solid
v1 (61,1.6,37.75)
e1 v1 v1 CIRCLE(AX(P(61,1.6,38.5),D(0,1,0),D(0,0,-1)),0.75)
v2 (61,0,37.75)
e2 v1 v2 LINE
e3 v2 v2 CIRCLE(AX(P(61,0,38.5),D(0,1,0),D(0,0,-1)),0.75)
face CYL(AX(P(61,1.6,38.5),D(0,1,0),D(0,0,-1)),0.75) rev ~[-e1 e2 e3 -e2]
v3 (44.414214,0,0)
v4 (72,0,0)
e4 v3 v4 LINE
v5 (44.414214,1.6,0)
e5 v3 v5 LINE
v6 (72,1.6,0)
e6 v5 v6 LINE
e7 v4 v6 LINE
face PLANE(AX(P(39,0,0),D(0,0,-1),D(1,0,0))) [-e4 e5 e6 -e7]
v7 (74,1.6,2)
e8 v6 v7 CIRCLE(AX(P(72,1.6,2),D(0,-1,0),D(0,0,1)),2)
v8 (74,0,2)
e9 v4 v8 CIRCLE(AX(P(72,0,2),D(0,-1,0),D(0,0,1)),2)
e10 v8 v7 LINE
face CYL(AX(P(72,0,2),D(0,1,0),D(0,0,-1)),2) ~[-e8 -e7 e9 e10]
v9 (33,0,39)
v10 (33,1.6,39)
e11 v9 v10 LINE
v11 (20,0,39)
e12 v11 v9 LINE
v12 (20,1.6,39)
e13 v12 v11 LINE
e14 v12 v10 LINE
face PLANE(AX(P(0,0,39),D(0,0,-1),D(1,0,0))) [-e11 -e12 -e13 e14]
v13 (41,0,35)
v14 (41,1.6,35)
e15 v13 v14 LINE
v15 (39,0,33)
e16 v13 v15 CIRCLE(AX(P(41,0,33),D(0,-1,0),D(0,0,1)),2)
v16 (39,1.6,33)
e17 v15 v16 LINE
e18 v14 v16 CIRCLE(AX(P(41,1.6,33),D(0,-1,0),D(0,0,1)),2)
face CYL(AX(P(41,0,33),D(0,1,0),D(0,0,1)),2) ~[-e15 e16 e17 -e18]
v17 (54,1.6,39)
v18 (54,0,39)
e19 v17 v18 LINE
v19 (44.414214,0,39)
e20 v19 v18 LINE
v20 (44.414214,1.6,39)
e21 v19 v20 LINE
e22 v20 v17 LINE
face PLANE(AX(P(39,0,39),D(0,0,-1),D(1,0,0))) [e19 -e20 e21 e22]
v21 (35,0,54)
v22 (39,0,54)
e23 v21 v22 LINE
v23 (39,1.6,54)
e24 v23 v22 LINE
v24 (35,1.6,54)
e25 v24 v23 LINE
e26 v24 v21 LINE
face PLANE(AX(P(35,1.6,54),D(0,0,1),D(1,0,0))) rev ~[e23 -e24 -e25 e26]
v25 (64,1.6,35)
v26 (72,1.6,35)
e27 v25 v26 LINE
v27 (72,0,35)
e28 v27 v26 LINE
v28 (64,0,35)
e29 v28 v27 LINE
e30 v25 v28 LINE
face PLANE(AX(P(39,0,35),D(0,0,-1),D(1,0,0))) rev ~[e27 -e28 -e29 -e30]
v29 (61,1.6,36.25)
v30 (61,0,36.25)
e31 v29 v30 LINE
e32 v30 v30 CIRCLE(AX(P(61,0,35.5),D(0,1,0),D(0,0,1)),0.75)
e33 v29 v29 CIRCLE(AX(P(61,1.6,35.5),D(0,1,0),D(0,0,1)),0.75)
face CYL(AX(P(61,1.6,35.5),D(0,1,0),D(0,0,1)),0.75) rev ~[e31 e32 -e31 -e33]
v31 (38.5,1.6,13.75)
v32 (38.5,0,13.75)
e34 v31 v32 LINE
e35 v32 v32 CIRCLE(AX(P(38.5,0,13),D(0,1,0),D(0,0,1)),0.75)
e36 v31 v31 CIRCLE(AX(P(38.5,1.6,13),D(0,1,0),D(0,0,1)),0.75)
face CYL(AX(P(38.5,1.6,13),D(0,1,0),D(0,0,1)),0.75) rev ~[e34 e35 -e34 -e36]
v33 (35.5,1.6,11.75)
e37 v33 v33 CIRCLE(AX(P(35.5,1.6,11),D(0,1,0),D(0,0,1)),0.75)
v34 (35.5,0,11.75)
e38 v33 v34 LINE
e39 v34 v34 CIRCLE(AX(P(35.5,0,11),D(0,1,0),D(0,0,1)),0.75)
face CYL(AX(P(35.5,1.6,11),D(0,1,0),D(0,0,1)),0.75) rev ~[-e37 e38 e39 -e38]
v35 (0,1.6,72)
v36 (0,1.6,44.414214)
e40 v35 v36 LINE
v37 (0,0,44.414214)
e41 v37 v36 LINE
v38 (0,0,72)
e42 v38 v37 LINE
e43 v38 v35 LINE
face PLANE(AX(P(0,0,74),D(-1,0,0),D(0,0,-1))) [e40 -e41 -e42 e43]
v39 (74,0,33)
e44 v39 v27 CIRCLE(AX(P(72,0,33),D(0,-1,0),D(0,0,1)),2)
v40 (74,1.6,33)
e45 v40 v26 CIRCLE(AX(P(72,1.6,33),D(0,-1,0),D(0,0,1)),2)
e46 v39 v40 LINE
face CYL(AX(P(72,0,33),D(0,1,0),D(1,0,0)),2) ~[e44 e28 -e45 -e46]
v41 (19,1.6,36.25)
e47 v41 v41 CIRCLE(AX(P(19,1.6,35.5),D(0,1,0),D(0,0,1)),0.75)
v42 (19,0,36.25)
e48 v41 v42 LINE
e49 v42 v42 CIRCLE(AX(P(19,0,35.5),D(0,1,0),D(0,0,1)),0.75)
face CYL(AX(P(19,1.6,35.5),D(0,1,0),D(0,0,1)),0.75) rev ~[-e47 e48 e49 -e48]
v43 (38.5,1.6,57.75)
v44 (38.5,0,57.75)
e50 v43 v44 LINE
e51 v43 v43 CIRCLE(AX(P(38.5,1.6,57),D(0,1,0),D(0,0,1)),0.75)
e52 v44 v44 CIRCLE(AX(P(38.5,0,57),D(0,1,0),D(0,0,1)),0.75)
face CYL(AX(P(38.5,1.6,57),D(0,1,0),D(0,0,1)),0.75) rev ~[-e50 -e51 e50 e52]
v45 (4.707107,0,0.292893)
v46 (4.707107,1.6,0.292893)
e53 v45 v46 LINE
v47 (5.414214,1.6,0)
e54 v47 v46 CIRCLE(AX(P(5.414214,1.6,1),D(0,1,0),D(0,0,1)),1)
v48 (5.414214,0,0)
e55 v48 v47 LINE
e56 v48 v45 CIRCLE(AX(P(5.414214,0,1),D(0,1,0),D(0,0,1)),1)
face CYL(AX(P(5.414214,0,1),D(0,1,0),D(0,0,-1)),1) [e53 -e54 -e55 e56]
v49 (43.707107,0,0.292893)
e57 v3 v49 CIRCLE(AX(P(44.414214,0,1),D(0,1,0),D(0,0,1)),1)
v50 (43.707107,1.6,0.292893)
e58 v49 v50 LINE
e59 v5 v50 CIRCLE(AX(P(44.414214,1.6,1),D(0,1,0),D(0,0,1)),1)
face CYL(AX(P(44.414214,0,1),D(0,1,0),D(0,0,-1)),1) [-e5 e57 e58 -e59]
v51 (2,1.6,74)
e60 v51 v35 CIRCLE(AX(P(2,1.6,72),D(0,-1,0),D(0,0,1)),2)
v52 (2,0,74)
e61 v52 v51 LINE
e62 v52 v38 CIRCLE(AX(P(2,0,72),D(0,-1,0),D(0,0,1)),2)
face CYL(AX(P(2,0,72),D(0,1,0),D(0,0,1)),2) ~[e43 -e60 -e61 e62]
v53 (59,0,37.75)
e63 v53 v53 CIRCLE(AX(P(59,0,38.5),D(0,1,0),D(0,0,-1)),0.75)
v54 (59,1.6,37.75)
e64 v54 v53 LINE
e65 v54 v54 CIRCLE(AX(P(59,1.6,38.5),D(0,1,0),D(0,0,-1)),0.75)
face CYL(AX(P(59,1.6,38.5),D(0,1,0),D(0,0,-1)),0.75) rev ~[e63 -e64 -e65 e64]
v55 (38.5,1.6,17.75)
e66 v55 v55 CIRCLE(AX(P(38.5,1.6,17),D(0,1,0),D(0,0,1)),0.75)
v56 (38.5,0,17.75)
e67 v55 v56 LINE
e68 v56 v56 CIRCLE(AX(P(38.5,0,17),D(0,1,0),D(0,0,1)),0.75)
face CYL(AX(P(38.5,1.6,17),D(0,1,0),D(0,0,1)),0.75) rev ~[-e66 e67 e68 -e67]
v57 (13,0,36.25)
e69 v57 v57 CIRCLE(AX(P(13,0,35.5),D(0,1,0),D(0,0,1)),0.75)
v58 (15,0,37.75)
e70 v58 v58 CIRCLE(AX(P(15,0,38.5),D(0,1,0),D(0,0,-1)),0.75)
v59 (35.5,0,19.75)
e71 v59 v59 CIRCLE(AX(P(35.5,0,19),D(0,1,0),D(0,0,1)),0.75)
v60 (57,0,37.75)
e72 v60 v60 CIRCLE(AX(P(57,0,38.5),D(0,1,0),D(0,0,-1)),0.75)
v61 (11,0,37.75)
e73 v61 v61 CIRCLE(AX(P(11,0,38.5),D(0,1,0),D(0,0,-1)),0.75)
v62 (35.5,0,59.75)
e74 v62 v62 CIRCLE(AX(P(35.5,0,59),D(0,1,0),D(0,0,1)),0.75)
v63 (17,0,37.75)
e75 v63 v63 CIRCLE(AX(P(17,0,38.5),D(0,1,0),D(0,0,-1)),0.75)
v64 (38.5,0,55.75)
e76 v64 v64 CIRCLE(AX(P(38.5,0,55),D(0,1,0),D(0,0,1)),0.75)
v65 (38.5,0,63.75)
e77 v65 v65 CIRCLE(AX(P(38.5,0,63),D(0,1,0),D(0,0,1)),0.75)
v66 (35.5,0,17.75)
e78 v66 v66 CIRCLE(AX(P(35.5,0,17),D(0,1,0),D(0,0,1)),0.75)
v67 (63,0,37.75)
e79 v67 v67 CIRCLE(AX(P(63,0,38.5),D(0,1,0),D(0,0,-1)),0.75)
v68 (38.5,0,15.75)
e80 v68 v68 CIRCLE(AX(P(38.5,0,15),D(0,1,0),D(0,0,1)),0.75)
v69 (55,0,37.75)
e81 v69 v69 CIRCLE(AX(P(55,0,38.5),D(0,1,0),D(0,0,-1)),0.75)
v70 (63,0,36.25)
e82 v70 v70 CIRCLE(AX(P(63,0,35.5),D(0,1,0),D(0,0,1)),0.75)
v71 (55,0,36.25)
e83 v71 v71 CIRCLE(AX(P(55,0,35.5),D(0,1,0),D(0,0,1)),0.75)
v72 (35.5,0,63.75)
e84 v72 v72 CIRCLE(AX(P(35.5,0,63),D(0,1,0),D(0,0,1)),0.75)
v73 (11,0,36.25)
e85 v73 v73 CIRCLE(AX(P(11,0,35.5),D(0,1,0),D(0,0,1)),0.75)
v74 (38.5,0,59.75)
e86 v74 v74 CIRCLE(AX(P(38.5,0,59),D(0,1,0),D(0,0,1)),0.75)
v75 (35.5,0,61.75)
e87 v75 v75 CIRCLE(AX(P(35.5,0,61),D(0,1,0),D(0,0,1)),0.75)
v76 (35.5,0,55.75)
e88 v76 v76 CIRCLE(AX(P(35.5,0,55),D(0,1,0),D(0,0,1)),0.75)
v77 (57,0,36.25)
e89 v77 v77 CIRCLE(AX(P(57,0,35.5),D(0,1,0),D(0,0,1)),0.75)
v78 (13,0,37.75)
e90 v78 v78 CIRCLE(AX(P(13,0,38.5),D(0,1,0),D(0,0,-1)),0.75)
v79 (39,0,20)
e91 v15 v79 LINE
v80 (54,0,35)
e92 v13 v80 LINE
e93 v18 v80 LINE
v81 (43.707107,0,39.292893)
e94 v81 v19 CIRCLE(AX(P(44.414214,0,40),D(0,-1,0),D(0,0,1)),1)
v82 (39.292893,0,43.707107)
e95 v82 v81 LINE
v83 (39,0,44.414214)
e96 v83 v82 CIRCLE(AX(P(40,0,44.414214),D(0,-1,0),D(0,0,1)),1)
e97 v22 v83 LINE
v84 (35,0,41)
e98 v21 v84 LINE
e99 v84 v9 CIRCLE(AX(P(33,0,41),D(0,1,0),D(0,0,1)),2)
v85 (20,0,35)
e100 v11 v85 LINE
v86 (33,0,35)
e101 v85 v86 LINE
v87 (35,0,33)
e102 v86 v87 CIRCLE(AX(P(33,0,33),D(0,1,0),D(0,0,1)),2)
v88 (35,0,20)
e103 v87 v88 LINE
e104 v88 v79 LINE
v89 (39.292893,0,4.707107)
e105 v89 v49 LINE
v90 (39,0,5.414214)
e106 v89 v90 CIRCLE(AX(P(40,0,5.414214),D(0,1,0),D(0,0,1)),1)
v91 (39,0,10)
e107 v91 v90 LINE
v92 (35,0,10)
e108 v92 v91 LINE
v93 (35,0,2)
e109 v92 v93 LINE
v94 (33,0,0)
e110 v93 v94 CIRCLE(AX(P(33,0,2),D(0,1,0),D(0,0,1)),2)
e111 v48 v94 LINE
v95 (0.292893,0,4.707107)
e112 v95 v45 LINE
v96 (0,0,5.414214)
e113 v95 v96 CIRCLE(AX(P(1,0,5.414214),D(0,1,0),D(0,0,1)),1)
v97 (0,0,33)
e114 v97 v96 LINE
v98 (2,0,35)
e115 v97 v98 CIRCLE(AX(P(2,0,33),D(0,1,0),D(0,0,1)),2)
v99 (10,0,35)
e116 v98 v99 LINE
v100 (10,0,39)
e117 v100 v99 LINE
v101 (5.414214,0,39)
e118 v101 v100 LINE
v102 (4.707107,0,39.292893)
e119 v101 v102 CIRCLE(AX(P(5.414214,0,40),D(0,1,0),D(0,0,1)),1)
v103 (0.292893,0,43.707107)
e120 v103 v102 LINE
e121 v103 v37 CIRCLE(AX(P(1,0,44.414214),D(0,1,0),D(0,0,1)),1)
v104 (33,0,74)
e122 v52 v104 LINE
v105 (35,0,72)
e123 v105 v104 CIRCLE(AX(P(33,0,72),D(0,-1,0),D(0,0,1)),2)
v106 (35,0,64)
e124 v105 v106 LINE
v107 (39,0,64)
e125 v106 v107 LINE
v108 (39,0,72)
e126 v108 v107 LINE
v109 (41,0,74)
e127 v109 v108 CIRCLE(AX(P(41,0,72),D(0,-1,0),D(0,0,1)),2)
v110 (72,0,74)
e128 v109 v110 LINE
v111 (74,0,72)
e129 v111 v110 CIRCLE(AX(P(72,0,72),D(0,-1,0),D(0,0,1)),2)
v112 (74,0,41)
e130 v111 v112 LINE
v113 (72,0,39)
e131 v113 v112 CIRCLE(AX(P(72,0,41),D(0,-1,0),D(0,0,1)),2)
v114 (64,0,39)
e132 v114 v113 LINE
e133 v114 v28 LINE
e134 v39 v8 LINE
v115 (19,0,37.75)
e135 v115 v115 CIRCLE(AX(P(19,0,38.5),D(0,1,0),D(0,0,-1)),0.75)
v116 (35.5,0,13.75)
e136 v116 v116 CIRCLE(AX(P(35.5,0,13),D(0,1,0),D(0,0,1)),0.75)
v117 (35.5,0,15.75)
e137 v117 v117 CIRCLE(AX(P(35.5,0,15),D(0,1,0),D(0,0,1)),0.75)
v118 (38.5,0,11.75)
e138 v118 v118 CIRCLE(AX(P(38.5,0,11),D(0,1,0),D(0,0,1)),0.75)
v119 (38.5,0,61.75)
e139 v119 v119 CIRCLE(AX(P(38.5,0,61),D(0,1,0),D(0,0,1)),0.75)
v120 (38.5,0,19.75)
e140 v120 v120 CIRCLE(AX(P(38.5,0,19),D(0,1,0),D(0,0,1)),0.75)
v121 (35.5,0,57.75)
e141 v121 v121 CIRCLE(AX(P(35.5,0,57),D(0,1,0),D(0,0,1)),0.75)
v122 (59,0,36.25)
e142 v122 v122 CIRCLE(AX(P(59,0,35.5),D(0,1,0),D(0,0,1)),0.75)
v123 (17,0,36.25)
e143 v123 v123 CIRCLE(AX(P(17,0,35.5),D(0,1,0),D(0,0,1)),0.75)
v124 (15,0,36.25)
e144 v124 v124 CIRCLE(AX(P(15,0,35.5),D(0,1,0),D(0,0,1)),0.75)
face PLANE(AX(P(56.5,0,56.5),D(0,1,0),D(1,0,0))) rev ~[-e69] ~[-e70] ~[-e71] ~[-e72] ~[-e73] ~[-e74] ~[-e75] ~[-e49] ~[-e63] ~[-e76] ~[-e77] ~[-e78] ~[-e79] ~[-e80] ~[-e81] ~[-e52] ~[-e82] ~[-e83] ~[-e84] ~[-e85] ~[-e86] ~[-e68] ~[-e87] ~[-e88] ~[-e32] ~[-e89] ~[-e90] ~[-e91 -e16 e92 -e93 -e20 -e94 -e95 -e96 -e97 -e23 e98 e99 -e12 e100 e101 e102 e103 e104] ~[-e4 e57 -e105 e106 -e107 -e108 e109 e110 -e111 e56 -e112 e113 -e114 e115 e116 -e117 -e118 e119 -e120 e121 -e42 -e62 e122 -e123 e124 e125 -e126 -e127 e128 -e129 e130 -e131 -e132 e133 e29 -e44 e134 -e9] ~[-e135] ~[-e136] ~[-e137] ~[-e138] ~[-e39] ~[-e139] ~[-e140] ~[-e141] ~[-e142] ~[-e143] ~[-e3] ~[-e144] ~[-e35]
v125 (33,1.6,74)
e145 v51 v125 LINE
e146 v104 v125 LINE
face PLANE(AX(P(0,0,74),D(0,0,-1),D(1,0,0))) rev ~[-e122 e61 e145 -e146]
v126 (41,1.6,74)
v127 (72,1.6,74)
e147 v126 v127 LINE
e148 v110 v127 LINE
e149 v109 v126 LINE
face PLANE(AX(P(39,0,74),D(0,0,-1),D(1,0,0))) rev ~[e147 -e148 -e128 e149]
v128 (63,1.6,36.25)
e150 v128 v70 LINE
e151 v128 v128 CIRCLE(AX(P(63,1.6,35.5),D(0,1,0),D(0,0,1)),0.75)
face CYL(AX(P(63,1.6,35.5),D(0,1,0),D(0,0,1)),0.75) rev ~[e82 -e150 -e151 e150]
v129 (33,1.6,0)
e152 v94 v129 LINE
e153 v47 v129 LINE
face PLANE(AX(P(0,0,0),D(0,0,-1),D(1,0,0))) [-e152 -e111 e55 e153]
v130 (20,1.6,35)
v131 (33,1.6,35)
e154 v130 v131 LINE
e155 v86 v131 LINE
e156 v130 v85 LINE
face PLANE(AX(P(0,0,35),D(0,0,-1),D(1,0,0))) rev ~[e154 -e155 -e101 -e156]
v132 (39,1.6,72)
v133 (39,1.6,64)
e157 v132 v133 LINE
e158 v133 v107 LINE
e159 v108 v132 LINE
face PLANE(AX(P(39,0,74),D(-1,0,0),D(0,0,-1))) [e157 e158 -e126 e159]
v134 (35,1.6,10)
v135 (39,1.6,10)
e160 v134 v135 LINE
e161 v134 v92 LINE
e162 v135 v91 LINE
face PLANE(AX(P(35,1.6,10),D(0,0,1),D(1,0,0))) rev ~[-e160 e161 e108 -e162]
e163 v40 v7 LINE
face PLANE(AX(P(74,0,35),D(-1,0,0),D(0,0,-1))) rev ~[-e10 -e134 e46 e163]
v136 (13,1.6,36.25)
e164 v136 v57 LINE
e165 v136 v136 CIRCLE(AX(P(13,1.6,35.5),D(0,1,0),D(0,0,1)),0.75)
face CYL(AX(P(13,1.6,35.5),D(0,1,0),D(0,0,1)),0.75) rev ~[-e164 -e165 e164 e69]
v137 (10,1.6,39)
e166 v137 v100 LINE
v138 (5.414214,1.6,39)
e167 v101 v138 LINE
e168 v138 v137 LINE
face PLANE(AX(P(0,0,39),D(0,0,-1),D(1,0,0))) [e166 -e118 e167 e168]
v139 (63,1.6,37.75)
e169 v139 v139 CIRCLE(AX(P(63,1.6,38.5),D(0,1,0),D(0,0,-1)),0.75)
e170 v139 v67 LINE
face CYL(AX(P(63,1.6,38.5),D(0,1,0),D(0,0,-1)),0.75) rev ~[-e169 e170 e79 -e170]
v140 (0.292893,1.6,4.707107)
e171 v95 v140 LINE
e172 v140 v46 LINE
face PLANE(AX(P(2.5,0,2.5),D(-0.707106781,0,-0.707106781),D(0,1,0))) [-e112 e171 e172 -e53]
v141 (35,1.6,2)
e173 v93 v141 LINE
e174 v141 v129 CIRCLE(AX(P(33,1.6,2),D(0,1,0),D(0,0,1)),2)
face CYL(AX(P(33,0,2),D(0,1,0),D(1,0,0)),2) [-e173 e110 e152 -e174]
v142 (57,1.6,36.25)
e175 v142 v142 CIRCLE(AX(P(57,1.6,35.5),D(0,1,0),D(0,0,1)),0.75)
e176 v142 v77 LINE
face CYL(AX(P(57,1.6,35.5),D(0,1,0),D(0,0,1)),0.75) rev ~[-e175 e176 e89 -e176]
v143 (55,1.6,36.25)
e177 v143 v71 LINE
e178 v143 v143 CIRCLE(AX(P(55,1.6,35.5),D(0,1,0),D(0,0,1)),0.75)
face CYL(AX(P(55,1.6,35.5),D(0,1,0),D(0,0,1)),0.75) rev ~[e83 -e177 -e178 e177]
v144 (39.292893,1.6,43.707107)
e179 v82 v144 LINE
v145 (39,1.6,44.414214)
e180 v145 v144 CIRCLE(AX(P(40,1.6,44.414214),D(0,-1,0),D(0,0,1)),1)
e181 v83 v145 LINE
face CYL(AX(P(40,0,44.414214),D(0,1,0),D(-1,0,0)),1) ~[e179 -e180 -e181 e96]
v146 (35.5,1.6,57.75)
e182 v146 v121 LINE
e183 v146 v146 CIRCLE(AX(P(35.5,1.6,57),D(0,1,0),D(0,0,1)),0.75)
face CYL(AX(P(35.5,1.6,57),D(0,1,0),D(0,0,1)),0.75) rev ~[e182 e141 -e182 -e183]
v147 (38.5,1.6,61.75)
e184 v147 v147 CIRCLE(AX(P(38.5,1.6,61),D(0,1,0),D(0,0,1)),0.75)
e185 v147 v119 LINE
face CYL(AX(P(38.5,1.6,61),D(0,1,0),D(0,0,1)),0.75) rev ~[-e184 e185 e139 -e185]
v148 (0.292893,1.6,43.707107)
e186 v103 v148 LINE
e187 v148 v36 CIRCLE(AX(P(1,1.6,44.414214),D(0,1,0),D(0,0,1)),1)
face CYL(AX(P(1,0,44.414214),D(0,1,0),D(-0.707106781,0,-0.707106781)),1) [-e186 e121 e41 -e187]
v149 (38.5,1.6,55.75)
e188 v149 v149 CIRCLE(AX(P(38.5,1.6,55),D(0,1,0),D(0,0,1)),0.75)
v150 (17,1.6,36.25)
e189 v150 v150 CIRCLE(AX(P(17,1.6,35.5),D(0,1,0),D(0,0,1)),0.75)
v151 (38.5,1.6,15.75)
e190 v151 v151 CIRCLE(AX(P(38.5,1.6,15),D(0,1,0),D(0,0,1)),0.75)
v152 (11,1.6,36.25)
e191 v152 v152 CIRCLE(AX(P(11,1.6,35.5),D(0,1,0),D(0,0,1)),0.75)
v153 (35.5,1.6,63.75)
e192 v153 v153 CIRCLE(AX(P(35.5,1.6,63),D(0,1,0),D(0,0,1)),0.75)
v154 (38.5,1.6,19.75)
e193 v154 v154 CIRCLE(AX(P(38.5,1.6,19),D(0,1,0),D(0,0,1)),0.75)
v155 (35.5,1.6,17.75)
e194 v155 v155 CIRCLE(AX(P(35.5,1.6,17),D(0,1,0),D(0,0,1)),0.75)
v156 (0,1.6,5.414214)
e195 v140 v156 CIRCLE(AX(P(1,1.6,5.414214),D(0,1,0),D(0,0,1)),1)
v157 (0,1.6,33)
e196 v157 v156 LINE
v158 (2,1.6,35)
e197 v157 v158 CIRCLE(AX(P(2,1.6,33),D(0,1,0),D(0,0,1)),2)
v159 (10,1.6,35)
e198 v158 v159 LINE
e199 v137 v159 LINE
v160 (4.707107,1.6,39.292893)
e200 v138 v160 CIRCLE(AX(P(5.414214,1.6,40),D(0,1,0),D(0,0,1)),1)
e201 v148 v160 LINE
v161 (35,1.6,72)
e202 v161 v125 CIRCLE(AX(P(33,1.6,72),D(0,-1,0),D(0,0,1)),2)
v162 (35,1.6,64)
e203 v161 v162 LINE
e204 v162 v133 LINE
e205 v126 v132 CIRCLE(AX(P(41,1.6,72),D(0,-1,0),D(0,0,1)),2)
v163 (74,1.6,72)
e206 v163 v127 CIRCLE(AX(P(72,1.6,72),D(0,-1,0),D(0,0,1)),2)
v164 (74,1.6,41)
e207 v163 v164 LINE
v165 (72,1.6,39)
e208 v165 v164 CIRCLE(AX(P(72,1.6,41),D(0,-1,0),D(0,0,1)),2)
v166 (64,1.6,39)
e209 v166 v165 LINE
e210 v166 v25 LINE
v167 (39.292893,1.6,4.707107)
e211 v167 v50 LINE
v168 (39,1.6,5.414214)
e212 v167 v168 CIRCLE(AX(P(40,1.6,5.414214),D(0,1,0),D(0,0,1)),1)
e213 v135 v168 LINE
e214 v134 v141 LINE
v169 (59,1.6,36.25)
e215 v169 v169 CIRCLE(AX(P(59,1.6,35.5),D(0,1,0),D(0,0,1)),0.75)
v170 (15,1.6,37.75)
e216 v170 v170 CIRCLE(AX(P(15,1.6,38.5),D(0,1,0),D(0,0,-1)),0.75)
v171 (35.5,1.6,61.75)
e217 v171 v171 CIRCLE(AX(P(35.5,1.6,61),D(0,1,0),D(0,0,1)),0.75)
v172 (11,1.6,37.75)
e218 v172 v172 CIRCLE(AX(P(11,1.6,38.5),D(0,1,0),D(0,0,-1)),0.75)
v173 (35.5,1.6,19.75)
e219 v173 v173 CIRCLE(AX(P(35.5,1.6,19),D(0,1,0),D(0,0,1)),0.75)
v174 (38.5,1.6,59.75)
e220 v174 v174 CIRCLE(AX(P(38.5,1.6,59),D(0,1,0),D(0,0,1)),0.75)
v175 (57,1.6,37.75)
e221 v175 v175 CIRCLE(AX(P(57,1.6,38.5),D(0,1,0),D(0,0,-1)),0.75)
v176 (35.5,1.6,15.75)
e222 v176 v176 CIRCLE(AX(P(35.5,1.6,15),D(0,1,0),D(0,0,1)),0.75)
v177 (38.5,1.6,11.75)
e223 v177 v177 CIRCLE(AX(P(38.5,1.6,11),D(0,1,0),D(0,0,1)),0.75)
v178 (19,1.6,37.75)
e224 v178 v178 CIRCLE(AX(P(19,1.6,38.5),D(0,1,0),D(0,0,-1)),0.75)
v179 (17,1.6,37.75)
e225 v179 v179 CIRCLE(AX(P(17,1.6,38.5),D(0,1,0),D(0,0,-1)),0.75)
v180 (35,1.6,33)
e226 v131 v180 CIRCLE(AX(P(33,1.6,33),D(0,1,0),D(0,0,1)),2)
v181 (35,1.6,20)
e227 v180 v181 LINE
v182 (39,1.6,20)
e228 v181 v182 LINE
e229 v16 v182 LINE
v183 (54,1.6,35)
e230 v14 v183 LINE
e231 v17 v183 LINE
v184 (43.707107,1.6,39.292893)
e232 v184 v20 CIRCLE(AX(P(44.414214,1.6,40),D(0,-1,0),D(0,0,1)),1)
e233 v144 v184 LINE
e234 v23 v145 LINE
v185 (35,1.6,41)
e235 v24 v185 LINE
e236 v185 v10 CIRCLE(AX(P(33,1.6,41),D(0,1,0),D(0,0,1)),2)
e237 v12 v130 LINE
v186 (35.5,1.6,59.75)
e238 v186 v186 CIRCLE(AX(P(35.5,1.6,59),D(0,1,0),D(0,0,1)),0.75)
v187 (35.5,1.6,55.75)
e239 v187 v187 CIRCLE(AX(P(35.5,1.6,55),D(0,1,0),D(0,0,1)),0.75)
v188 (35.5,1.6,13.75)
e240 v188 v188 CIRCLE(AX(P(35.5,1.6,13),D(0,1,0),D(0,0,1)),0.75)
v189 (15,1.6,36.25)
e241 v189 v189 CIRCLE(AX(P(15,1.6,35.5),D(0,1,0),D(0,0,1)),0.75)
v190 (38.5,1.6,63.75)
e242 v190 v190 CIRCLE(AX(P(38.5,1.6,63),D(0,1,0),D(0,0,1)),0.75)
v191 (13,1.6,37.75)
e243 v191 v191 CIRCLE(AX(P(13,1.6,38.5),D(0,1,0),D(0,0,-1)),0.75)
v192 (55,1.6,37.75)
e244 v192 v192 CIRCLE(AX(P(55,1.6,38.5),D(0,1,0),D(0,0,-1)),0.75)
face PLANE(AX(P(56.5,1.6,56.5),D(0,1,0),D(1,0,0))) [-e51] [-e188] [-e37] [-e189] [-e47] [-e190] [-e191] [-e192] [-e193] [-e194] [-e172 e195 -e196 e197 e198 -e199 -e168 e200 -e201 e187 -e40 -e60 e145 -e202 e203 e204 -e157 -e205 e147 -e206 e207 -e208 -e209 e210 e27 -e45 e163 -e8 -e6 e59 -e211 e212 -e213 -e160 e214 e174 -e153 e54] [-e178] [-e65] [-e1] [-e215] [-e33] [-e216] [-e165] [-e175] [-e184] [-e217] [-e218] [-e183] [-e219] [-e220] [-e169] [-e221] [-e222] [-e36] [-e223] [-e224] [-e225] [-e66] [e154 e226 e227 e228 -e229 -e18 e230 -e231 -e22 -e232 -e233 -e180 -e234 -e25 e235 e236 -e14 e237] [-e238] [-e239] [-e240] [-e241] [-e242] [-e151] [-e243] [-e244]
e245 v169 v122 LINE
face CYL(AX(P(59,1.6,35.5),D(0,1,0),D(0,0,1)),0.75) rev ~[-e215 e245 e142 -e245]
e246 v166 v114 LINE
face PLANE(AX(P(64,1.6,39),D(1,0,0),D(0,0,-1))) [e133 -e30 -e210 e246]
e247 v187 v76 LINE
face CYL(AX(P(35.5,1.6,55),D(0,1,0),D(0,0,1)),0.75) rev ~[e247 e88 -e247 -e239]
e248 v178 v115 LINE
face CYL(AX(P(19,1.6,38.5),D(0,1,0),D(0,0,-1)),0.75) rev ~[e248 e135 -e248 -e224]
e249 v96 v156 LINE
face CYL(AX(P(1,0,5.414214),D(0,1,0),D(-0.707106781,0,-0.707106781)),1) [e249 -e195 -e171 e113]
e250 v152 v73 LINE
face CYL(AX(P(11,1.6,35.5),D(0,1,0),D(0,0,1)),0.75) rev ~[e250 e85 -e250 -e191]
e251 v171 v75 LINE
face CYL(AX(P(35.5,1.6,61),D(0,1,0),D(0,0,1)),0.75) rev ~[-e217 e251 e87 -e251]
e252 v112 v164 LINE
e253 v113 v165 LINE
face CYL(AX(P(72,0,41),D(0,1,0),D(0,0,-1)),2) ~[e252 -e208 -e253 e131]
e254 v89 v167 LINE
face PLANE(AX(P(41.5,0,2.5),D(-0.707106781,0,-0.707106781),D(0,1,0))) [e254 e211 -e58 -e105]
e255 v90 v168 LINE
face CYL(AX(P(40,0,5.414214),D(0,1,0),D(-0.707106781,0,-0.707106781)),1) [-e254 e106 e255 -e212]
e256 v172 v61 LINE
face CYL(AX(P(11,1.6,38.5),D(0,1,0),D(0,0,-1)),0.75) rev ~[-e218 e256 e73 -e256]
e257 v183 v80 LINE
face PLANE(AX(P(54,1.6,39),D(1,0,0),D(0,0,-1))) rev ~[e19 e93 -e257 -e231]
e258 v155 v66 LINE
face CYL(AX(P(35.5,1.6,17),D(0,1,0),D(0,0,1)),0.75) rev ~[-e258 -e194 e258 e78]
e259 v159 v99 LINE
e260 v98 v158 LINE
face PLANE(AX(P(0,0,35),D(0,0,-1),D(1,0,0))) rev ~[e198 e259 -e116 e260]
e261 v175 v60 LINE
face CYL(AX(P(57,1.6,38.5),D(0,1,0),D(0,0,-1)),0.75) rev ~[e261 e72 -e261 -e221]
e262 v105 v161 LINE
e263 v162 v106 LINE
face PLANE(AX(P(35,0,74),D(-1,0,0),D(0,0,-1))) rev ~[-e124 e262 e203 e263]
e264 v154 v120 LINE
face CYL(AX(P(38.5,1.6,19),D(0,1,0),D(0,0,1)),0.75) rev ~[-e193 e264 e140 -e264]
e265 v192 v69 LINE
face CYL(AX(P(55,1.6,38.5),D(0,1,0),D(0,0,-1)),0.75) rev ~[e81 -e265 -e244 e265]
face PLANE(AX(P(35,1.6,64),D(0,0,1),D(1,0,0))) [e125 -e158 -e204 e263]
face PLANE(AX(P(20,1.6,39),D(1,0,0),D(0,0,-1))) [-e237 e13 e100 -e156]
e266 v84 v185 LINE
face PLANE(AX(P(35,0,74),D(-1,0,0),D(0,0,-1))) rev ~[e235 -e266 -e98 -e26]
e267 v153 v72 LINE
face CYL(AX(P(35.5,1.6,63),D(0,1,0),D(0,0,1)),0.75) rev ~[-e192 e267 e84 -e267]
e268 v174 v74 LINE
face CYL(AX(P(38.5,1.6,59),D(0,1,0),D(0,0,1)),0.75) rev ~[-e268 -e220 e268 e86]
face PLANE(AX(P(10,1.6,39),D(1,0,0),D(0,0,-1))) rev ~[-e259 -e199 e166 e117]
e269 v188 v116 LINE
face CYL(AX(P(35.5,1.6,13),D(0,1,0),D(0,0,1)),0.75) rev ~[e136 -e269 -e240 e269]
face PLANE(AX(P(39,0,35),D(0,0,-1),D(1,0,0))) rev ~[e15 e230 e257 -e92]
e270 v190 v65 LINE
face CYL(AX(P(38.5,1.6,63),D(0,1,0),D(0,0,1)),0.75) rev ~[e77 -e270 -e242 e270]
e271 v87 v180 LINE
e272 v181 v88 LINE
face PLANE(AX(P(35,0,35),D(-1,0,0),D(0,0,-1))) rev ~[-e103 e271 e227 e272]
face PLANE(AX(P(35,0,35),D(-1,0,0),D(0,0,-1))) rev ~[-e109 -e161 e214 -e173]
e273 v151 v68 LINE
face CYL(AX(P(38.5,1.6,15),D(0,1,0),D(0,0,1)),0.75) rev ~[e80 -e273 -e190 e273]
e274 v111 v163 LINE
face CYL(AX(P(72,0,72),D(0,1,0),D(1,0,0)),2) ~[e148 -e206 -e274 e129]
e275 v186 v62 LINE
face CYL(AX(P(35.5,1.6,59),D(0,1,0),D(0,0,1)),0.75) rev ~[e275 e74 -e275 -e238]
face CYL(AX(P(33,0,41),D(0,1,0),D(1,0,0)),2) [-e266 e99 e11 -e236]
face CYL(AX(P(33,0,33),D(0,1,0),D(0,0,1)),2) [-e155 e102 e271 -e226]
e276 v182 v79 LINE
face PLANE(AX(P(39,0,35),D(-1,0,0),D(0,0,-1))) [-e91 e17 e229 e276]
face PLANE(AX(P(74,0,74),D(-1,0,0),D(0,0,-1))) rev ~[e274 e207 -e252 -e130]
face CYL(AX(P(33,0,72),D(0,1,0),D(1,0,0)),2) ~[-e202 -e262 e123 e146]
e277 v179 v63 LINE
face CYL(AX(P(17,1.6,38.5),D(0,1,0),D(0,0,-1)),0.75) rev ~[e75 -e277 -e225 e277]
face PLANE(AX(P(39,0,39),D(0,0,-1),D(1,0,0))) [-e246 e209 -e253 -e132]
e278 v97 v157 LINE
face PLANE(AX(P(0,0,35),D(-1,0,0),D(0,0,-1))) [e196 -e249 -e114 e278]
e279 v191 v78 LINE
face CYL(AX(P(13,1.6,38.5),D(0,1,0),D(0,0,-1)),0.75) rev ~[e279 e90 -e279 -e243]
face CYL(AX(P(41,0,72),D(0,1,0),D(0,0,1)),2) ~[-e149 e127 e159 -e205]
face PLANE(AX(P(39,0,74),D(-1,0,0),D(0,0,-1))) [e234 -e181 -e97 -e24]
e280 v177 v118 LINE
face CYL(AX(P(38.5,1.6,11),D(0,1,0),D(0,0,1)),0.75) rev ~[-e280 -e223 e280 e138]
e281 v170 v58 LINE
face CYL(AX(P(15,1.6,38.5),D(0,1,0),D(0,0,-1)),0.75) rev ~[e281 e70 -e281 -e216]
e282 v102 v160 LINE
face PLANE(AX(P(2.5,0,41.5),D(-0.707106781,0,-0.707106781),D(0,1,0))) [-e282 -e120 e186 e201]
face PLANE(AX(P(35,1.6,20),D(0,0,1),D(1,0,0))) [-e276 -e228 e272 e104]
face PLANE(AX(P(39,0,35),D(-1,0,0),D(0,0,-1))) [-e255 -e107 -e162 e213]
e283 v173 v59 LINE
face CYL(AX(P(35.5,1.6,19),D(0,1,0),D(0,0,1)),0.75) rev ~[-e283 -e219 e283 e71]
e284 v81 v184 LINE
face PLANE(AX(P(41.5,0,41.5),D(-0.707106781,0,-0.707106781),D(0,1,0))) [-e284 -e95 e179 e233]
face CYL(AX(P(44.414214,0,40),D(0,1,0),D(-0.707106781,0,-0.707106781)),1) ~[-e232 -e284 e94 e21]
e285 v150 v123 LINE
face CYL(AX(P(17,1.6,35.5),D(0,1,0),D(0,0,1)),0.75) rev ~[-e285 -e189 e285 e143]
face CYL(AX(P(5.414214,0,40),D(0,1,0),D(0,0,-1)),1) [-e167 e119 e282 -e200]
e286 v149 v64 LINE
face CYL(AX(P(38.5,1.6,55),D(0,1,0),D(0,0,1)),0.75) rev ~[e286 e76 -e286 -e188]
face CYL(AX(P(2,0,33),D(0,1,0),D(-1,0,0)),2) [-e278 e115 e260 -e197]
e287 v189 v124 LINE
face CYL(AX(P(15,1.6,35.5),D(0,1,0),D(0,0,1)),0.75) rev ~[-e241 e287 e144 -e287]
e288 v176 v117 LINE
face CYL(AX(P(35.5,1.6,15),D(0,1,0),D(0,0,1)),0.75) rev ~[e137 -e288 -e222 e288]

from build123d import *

# Parameters (mm, degrees)
SKETCH_1_W          = 35
SKETCH_1_H          = 35
EXTRUDE_1_DEPTH     = 1.6
EXTRUDE_1_2_DEPTH   = 1.6
EXTRUDE_1_3_DEPTH   = 1.6
EXTRUDE_1_4_DEPTH   = 1.6
SKETCH_2_W          = 10
SKETCH_2_H          = 4
SKETCH_2_W_2        = 4
SKETCH_2_H_2        = 10
EXTRUDE_2_DEPTH     = 1.6
CHAMFER_1_SIZE      = 5
FILLET_1_R          = 1
FILLET_2_R          = 2
SKETCH_3_R          = 0.75
CUT_EXTRUDE_1_DEPTH = 105.664033937
SKETCH_4_R          = 0.75
CUT_EXTRUDE_2_DEPTH = 105.664033937


with BuildPart() as part:
    # 草图1 → 凸台-拉伸1 (new body)
    with BuildSketch(Plane(origin=(0, 0, 0), x_dir=(1, 0, 0), z_dir=(0, 1, 0))):
        with Locations((56.5, -17.5)):
            Rectangle(SKETCH_1_W, SKETCH_1_H)
    extrude(amount=EXTRUDE_1_DEPTH)



with BuildPart() as body_2:
    # 草图1 → Extrude 1 2 (new body)
    with BuildSketch(Plane(origin=(0, 0, 0), x_dir=(1, 0, 0), z_dir=(0, 1, 0))):
        with Locations((17.5, -17.5)):
            Rectangle(SKETCH_1_W, SKETCH_1_H)
    extrude(amount=EXTRUDE_1_2_DEPTH)


with BuildPart() as body_3:
    # 草图1 → Extrude 1 3 (new body)
    with BuildSketch(Plane(origin=(0, 0, 0), x_dir=(1, 0, 0), z_dir=(0, 1, 0))):
        with Locations((17.5, -56.5)):
            Rectangle(SKETCH_1_W, SKETCH_1_H)
    extrude(amount=EXTRUDE_1_3_DEPTH)


with BuildPart() as body_4:
    # 草图1 → Extrude 1 4 (new body)
    with BuildSketch(Plane(origin=(0, 0, 0), x_dir=(1, 0, 0), z_dir=(0, 1, 0))):
        with Locations((56.5, -56.5)):
            Rectangle(SKETCH_1_W, SKETCH_1_H)
    extrude(amount=EXTRUDE_1_4_DEPTH)


with BuildPart() as part_1:
    add(part.part)

    add(body_2.part)  # 凸台-拉伸2 merges body 2

    add(body_3.part)  # 凸台-拉伸2 merges body 3

    add(body_4.part)  # 凸台-拉伸2 merges body 4
    # 草图2 → 凸台-拉伸2 (add)
    with BuildSketch(Plane(origin=(0, 1.6, 0), x_dir=(1, 0, 0), z_dir=(0, 1, 0))):
        with Locations((15, -37)):
            Rectangle(SKETCH_2_W, SKETCH_2_H)
        with Locations((37, -15)):
            Rectangle(SKETCH_2_W_2, SKETCH_2_H_2)
        with Locations((59, -37)):
            Rectangle(SKETCH_2_W, SKETCH_2_H)
        with Locations((37, -59)):
            Rectangle(SKETCH_2_W_2, SKETCH_2_H_2)
    extrude(amount=-EXTRUDE_2_DEPTH)

    # 倒角1
    chamfer_1_edges = [part_1.edges().sort_by_distance(p)[0] for p in [
        (0, 0.8, 39),
        (39, 0.8, 0),
        (39, 0.8, 39),
        (0, 0.8, 0),
    ]]
    chamfer(chamfer_1_edges, length=CHAMFER_1_SIZE)

    # 圆角1
    fillet_1_edges = [part_1.edges().sort_by_distance(p)[0] for p in [
        (44, 0.8, 39),
        (0, 0.8, 44),
        (5, 0.8, 39),
        (39, 0.8, 5),
        (44, 0.8, 0),
        (0, 0.8, 5),
        (5, 0.8, 0),
        (39, 0.8, 44),
    ]]
    fillet(fillet_1_edges, radius=FILLET_1_R)

    # 圆角2
    fillet_2_edges = [part_1.edges().sort_by_distance(p)[0] for p in [
        (35, 0.8, 39),
        (0, 0.8, 74),
        (35, 0.8, 74),
        (39, 0.8, 35),
        (74, 0.8, 35),
        (74, 0.8, 0),
        (39, 0.8, 74),
        (74, 0.8, 74),
        (74, 0.8, 39),
        (35, 0.8, 0),
        (35, 0.8, 35),
        (0, 0.8, 35),
    ]]
    fillet(fillet_2_edges, radius=FILLET_2_R)

    # 草图3 → 切除-拉伸1 (cut, through all)
    with BuildSketch(Plane(origin=(0, 1.6, 0), x_dir=(1, 0, 0), z_dir=(0, 1, 0))):
        with Locations(Location((11, -35.5, 0), (0, 0, 270))):
            Circle(SKETCH_3_R)
        with Locations(Location((63, -35.5, 0), (0, 0, 270))):
            Circle(SKETCH_3_R)
        with Locations(Location((63, -38.5, 0), (0, 0, 90))):
            Circle(SKETCH_3_R)
        with Locations(Location((11, -38.5, 0), (0, 0, 90))):
            Circle(SKETCH_3_R)
        with Locations(Location((13, -38.5, 0), (0, 0, 90))):
            Circle(SKETCH_3_R)
        with Locations(Location((13, -35.5, 0), (0, 0, 270))):
            Circle(SKETCH_3_R)
        with Locations(Location((15, -38.5, 0), (0, 0, 90))):
            Circle(SKETCH_3_R)
        with Locations(Location((15, -35.5, 0), (0, 0, 270))):
            Circle(SKETCH_3_R)
        with Locations(Location((17, -38.5, 0), (0, 0, 90))):
            Circle(SKETCH_3_R)
        with Locations(Location((17, -35.5, 0), (0, 0, 270))):
            Circle(SKETCH_3_R)
        with Locations(Location((19, -38.5, 0), (0, 0, 90))):
            Circle(SKETCH_3_R)
        with Locations(Location((19, -35.5, 0), (0, 0, 270))):
            Circle(SKETCH_3_R)
        with Locations(Location((61, -35.5, 0), (0, 0, 270))):
            Circle(SKETCH_3_R)
        with Locations(Location((61, -38.5, 0), (0, 0, 90))):
            Circle(SKETCH_3_R)
        with Locations(Location((59, -35.5, 0), (0, 0, 270))):
            Circle(SKETCH_3_R)
        with Locations(Location((59, -38.5, 0), (0, 0, 90))):
            Circle(SKETCH_3_R)
        with Locations(Location((57, -35.5, 0), (0, 0, 270))):
            Circle(SKETCH_3_R)
        with Locations(Location((57, -38.5, 0), (0, 0, 90))):
            Circle(SKETCH_3_R)
        with Locations(Location((55, -35.5, 0), (0, 0, 270))):
            Circle(SKETCH_3_R)
        with Locations(Location((55, -38.5, 0), (0, 0, 90))):
            Circle(SKETCH_3_R)
    extrude(amount=-CUT_EXTRUDE_1_DEPTH, mode=Mode.SUBTRACT)

    # 草图4 → 切除-拉伸2 (cut, through all)
    with BuildSketch(Plane(origin=(0, 1.6, 0), x_dir=(1, 0, 0), z_dir=(0, 1, 0))):
        with Locations(Location((35.5, -11, 0), (0, 0, 270))):
            Circle(SKETCH_4_R)
        with Locations(Location((38.5, -11, 0), (0, 0, 270))):
            Circle(SKETCH_4_R)
        with Locations(Location((35.5, -13, 0), (0, 0, 270))):
            Circle(SKETCH_4_R)
        with Locations(Location((38.5, -13, 0), (0, 0, 270))):
            Circle(SKETCH_4_R)
        with Locations(Location((35.5, -15, 0), (0, 0, 270))):
            Circle(SKETCH_4_R)
        with Locations(Location((38.5, -15, 0), (0, 0, 270))):
            Circle(SKETCH_4_R)
        with Locations(Location((35.5, -17, 0), (0, 0, 270))):
            Circle(SKETCH_4_R)
        with Locations(Location((38.5, -17, 0), (0, 0, 270))):
            Circle(SKETCH_4_R)
        with Locations(Location((35.5, -19, 0), (0, 0, 270))):
            Circle(SKETCH_4_R)
        with Locations(Location((38.5, -19, 0), (0, 0, 270))):
            Circle(SKETCH_4_R)
        with Locations(Location((35.5, -63, 0), (0, 0, 270))):
            Circle(SKETCH_4_R)
        with Locations(Location((38.5, -63, 0), (0, 0, 270))):
            Circle(SKETCH_4_R)
        with Locations(Location((35.5, -61, 0), (0, 0, 270))):
            Circle(SKETCH_4_R)
        with Locations(Location((38.5, -61, 0), (0, 0, 270))):
            Circle(SKETCH_4_R)
        with Locations(Location((35.5, -59, 0), (0, 0, 270))):
            Circle(SKETCH_4_R)
        with Locations(Location((38.5, -59, 0), (0, 0, 270))):
            Circle(SKETCH_4_R)
        with Locations(Location((35.5, -57, 0), (0, 0, 270))):
            Circle(SKETCH_4_R)
        with Locations(Location((38.5, -57, 0), (0, 0, 270))):
            Circle(SKETCH_4_R)
        with Locations(Location((35.5, -55, 0), (0, 0, 270))):
            Circle(SKETCH_4_R)
        with Locations(Location((38.5, -55, 0), (0, 0, 270))):
            Circle(SKETCH_4_R)
    extrude(amount=-CUT_EXTRUDE_2_DEPTH, mode=Mode.SUBTRACT)


solid = part_1.part
